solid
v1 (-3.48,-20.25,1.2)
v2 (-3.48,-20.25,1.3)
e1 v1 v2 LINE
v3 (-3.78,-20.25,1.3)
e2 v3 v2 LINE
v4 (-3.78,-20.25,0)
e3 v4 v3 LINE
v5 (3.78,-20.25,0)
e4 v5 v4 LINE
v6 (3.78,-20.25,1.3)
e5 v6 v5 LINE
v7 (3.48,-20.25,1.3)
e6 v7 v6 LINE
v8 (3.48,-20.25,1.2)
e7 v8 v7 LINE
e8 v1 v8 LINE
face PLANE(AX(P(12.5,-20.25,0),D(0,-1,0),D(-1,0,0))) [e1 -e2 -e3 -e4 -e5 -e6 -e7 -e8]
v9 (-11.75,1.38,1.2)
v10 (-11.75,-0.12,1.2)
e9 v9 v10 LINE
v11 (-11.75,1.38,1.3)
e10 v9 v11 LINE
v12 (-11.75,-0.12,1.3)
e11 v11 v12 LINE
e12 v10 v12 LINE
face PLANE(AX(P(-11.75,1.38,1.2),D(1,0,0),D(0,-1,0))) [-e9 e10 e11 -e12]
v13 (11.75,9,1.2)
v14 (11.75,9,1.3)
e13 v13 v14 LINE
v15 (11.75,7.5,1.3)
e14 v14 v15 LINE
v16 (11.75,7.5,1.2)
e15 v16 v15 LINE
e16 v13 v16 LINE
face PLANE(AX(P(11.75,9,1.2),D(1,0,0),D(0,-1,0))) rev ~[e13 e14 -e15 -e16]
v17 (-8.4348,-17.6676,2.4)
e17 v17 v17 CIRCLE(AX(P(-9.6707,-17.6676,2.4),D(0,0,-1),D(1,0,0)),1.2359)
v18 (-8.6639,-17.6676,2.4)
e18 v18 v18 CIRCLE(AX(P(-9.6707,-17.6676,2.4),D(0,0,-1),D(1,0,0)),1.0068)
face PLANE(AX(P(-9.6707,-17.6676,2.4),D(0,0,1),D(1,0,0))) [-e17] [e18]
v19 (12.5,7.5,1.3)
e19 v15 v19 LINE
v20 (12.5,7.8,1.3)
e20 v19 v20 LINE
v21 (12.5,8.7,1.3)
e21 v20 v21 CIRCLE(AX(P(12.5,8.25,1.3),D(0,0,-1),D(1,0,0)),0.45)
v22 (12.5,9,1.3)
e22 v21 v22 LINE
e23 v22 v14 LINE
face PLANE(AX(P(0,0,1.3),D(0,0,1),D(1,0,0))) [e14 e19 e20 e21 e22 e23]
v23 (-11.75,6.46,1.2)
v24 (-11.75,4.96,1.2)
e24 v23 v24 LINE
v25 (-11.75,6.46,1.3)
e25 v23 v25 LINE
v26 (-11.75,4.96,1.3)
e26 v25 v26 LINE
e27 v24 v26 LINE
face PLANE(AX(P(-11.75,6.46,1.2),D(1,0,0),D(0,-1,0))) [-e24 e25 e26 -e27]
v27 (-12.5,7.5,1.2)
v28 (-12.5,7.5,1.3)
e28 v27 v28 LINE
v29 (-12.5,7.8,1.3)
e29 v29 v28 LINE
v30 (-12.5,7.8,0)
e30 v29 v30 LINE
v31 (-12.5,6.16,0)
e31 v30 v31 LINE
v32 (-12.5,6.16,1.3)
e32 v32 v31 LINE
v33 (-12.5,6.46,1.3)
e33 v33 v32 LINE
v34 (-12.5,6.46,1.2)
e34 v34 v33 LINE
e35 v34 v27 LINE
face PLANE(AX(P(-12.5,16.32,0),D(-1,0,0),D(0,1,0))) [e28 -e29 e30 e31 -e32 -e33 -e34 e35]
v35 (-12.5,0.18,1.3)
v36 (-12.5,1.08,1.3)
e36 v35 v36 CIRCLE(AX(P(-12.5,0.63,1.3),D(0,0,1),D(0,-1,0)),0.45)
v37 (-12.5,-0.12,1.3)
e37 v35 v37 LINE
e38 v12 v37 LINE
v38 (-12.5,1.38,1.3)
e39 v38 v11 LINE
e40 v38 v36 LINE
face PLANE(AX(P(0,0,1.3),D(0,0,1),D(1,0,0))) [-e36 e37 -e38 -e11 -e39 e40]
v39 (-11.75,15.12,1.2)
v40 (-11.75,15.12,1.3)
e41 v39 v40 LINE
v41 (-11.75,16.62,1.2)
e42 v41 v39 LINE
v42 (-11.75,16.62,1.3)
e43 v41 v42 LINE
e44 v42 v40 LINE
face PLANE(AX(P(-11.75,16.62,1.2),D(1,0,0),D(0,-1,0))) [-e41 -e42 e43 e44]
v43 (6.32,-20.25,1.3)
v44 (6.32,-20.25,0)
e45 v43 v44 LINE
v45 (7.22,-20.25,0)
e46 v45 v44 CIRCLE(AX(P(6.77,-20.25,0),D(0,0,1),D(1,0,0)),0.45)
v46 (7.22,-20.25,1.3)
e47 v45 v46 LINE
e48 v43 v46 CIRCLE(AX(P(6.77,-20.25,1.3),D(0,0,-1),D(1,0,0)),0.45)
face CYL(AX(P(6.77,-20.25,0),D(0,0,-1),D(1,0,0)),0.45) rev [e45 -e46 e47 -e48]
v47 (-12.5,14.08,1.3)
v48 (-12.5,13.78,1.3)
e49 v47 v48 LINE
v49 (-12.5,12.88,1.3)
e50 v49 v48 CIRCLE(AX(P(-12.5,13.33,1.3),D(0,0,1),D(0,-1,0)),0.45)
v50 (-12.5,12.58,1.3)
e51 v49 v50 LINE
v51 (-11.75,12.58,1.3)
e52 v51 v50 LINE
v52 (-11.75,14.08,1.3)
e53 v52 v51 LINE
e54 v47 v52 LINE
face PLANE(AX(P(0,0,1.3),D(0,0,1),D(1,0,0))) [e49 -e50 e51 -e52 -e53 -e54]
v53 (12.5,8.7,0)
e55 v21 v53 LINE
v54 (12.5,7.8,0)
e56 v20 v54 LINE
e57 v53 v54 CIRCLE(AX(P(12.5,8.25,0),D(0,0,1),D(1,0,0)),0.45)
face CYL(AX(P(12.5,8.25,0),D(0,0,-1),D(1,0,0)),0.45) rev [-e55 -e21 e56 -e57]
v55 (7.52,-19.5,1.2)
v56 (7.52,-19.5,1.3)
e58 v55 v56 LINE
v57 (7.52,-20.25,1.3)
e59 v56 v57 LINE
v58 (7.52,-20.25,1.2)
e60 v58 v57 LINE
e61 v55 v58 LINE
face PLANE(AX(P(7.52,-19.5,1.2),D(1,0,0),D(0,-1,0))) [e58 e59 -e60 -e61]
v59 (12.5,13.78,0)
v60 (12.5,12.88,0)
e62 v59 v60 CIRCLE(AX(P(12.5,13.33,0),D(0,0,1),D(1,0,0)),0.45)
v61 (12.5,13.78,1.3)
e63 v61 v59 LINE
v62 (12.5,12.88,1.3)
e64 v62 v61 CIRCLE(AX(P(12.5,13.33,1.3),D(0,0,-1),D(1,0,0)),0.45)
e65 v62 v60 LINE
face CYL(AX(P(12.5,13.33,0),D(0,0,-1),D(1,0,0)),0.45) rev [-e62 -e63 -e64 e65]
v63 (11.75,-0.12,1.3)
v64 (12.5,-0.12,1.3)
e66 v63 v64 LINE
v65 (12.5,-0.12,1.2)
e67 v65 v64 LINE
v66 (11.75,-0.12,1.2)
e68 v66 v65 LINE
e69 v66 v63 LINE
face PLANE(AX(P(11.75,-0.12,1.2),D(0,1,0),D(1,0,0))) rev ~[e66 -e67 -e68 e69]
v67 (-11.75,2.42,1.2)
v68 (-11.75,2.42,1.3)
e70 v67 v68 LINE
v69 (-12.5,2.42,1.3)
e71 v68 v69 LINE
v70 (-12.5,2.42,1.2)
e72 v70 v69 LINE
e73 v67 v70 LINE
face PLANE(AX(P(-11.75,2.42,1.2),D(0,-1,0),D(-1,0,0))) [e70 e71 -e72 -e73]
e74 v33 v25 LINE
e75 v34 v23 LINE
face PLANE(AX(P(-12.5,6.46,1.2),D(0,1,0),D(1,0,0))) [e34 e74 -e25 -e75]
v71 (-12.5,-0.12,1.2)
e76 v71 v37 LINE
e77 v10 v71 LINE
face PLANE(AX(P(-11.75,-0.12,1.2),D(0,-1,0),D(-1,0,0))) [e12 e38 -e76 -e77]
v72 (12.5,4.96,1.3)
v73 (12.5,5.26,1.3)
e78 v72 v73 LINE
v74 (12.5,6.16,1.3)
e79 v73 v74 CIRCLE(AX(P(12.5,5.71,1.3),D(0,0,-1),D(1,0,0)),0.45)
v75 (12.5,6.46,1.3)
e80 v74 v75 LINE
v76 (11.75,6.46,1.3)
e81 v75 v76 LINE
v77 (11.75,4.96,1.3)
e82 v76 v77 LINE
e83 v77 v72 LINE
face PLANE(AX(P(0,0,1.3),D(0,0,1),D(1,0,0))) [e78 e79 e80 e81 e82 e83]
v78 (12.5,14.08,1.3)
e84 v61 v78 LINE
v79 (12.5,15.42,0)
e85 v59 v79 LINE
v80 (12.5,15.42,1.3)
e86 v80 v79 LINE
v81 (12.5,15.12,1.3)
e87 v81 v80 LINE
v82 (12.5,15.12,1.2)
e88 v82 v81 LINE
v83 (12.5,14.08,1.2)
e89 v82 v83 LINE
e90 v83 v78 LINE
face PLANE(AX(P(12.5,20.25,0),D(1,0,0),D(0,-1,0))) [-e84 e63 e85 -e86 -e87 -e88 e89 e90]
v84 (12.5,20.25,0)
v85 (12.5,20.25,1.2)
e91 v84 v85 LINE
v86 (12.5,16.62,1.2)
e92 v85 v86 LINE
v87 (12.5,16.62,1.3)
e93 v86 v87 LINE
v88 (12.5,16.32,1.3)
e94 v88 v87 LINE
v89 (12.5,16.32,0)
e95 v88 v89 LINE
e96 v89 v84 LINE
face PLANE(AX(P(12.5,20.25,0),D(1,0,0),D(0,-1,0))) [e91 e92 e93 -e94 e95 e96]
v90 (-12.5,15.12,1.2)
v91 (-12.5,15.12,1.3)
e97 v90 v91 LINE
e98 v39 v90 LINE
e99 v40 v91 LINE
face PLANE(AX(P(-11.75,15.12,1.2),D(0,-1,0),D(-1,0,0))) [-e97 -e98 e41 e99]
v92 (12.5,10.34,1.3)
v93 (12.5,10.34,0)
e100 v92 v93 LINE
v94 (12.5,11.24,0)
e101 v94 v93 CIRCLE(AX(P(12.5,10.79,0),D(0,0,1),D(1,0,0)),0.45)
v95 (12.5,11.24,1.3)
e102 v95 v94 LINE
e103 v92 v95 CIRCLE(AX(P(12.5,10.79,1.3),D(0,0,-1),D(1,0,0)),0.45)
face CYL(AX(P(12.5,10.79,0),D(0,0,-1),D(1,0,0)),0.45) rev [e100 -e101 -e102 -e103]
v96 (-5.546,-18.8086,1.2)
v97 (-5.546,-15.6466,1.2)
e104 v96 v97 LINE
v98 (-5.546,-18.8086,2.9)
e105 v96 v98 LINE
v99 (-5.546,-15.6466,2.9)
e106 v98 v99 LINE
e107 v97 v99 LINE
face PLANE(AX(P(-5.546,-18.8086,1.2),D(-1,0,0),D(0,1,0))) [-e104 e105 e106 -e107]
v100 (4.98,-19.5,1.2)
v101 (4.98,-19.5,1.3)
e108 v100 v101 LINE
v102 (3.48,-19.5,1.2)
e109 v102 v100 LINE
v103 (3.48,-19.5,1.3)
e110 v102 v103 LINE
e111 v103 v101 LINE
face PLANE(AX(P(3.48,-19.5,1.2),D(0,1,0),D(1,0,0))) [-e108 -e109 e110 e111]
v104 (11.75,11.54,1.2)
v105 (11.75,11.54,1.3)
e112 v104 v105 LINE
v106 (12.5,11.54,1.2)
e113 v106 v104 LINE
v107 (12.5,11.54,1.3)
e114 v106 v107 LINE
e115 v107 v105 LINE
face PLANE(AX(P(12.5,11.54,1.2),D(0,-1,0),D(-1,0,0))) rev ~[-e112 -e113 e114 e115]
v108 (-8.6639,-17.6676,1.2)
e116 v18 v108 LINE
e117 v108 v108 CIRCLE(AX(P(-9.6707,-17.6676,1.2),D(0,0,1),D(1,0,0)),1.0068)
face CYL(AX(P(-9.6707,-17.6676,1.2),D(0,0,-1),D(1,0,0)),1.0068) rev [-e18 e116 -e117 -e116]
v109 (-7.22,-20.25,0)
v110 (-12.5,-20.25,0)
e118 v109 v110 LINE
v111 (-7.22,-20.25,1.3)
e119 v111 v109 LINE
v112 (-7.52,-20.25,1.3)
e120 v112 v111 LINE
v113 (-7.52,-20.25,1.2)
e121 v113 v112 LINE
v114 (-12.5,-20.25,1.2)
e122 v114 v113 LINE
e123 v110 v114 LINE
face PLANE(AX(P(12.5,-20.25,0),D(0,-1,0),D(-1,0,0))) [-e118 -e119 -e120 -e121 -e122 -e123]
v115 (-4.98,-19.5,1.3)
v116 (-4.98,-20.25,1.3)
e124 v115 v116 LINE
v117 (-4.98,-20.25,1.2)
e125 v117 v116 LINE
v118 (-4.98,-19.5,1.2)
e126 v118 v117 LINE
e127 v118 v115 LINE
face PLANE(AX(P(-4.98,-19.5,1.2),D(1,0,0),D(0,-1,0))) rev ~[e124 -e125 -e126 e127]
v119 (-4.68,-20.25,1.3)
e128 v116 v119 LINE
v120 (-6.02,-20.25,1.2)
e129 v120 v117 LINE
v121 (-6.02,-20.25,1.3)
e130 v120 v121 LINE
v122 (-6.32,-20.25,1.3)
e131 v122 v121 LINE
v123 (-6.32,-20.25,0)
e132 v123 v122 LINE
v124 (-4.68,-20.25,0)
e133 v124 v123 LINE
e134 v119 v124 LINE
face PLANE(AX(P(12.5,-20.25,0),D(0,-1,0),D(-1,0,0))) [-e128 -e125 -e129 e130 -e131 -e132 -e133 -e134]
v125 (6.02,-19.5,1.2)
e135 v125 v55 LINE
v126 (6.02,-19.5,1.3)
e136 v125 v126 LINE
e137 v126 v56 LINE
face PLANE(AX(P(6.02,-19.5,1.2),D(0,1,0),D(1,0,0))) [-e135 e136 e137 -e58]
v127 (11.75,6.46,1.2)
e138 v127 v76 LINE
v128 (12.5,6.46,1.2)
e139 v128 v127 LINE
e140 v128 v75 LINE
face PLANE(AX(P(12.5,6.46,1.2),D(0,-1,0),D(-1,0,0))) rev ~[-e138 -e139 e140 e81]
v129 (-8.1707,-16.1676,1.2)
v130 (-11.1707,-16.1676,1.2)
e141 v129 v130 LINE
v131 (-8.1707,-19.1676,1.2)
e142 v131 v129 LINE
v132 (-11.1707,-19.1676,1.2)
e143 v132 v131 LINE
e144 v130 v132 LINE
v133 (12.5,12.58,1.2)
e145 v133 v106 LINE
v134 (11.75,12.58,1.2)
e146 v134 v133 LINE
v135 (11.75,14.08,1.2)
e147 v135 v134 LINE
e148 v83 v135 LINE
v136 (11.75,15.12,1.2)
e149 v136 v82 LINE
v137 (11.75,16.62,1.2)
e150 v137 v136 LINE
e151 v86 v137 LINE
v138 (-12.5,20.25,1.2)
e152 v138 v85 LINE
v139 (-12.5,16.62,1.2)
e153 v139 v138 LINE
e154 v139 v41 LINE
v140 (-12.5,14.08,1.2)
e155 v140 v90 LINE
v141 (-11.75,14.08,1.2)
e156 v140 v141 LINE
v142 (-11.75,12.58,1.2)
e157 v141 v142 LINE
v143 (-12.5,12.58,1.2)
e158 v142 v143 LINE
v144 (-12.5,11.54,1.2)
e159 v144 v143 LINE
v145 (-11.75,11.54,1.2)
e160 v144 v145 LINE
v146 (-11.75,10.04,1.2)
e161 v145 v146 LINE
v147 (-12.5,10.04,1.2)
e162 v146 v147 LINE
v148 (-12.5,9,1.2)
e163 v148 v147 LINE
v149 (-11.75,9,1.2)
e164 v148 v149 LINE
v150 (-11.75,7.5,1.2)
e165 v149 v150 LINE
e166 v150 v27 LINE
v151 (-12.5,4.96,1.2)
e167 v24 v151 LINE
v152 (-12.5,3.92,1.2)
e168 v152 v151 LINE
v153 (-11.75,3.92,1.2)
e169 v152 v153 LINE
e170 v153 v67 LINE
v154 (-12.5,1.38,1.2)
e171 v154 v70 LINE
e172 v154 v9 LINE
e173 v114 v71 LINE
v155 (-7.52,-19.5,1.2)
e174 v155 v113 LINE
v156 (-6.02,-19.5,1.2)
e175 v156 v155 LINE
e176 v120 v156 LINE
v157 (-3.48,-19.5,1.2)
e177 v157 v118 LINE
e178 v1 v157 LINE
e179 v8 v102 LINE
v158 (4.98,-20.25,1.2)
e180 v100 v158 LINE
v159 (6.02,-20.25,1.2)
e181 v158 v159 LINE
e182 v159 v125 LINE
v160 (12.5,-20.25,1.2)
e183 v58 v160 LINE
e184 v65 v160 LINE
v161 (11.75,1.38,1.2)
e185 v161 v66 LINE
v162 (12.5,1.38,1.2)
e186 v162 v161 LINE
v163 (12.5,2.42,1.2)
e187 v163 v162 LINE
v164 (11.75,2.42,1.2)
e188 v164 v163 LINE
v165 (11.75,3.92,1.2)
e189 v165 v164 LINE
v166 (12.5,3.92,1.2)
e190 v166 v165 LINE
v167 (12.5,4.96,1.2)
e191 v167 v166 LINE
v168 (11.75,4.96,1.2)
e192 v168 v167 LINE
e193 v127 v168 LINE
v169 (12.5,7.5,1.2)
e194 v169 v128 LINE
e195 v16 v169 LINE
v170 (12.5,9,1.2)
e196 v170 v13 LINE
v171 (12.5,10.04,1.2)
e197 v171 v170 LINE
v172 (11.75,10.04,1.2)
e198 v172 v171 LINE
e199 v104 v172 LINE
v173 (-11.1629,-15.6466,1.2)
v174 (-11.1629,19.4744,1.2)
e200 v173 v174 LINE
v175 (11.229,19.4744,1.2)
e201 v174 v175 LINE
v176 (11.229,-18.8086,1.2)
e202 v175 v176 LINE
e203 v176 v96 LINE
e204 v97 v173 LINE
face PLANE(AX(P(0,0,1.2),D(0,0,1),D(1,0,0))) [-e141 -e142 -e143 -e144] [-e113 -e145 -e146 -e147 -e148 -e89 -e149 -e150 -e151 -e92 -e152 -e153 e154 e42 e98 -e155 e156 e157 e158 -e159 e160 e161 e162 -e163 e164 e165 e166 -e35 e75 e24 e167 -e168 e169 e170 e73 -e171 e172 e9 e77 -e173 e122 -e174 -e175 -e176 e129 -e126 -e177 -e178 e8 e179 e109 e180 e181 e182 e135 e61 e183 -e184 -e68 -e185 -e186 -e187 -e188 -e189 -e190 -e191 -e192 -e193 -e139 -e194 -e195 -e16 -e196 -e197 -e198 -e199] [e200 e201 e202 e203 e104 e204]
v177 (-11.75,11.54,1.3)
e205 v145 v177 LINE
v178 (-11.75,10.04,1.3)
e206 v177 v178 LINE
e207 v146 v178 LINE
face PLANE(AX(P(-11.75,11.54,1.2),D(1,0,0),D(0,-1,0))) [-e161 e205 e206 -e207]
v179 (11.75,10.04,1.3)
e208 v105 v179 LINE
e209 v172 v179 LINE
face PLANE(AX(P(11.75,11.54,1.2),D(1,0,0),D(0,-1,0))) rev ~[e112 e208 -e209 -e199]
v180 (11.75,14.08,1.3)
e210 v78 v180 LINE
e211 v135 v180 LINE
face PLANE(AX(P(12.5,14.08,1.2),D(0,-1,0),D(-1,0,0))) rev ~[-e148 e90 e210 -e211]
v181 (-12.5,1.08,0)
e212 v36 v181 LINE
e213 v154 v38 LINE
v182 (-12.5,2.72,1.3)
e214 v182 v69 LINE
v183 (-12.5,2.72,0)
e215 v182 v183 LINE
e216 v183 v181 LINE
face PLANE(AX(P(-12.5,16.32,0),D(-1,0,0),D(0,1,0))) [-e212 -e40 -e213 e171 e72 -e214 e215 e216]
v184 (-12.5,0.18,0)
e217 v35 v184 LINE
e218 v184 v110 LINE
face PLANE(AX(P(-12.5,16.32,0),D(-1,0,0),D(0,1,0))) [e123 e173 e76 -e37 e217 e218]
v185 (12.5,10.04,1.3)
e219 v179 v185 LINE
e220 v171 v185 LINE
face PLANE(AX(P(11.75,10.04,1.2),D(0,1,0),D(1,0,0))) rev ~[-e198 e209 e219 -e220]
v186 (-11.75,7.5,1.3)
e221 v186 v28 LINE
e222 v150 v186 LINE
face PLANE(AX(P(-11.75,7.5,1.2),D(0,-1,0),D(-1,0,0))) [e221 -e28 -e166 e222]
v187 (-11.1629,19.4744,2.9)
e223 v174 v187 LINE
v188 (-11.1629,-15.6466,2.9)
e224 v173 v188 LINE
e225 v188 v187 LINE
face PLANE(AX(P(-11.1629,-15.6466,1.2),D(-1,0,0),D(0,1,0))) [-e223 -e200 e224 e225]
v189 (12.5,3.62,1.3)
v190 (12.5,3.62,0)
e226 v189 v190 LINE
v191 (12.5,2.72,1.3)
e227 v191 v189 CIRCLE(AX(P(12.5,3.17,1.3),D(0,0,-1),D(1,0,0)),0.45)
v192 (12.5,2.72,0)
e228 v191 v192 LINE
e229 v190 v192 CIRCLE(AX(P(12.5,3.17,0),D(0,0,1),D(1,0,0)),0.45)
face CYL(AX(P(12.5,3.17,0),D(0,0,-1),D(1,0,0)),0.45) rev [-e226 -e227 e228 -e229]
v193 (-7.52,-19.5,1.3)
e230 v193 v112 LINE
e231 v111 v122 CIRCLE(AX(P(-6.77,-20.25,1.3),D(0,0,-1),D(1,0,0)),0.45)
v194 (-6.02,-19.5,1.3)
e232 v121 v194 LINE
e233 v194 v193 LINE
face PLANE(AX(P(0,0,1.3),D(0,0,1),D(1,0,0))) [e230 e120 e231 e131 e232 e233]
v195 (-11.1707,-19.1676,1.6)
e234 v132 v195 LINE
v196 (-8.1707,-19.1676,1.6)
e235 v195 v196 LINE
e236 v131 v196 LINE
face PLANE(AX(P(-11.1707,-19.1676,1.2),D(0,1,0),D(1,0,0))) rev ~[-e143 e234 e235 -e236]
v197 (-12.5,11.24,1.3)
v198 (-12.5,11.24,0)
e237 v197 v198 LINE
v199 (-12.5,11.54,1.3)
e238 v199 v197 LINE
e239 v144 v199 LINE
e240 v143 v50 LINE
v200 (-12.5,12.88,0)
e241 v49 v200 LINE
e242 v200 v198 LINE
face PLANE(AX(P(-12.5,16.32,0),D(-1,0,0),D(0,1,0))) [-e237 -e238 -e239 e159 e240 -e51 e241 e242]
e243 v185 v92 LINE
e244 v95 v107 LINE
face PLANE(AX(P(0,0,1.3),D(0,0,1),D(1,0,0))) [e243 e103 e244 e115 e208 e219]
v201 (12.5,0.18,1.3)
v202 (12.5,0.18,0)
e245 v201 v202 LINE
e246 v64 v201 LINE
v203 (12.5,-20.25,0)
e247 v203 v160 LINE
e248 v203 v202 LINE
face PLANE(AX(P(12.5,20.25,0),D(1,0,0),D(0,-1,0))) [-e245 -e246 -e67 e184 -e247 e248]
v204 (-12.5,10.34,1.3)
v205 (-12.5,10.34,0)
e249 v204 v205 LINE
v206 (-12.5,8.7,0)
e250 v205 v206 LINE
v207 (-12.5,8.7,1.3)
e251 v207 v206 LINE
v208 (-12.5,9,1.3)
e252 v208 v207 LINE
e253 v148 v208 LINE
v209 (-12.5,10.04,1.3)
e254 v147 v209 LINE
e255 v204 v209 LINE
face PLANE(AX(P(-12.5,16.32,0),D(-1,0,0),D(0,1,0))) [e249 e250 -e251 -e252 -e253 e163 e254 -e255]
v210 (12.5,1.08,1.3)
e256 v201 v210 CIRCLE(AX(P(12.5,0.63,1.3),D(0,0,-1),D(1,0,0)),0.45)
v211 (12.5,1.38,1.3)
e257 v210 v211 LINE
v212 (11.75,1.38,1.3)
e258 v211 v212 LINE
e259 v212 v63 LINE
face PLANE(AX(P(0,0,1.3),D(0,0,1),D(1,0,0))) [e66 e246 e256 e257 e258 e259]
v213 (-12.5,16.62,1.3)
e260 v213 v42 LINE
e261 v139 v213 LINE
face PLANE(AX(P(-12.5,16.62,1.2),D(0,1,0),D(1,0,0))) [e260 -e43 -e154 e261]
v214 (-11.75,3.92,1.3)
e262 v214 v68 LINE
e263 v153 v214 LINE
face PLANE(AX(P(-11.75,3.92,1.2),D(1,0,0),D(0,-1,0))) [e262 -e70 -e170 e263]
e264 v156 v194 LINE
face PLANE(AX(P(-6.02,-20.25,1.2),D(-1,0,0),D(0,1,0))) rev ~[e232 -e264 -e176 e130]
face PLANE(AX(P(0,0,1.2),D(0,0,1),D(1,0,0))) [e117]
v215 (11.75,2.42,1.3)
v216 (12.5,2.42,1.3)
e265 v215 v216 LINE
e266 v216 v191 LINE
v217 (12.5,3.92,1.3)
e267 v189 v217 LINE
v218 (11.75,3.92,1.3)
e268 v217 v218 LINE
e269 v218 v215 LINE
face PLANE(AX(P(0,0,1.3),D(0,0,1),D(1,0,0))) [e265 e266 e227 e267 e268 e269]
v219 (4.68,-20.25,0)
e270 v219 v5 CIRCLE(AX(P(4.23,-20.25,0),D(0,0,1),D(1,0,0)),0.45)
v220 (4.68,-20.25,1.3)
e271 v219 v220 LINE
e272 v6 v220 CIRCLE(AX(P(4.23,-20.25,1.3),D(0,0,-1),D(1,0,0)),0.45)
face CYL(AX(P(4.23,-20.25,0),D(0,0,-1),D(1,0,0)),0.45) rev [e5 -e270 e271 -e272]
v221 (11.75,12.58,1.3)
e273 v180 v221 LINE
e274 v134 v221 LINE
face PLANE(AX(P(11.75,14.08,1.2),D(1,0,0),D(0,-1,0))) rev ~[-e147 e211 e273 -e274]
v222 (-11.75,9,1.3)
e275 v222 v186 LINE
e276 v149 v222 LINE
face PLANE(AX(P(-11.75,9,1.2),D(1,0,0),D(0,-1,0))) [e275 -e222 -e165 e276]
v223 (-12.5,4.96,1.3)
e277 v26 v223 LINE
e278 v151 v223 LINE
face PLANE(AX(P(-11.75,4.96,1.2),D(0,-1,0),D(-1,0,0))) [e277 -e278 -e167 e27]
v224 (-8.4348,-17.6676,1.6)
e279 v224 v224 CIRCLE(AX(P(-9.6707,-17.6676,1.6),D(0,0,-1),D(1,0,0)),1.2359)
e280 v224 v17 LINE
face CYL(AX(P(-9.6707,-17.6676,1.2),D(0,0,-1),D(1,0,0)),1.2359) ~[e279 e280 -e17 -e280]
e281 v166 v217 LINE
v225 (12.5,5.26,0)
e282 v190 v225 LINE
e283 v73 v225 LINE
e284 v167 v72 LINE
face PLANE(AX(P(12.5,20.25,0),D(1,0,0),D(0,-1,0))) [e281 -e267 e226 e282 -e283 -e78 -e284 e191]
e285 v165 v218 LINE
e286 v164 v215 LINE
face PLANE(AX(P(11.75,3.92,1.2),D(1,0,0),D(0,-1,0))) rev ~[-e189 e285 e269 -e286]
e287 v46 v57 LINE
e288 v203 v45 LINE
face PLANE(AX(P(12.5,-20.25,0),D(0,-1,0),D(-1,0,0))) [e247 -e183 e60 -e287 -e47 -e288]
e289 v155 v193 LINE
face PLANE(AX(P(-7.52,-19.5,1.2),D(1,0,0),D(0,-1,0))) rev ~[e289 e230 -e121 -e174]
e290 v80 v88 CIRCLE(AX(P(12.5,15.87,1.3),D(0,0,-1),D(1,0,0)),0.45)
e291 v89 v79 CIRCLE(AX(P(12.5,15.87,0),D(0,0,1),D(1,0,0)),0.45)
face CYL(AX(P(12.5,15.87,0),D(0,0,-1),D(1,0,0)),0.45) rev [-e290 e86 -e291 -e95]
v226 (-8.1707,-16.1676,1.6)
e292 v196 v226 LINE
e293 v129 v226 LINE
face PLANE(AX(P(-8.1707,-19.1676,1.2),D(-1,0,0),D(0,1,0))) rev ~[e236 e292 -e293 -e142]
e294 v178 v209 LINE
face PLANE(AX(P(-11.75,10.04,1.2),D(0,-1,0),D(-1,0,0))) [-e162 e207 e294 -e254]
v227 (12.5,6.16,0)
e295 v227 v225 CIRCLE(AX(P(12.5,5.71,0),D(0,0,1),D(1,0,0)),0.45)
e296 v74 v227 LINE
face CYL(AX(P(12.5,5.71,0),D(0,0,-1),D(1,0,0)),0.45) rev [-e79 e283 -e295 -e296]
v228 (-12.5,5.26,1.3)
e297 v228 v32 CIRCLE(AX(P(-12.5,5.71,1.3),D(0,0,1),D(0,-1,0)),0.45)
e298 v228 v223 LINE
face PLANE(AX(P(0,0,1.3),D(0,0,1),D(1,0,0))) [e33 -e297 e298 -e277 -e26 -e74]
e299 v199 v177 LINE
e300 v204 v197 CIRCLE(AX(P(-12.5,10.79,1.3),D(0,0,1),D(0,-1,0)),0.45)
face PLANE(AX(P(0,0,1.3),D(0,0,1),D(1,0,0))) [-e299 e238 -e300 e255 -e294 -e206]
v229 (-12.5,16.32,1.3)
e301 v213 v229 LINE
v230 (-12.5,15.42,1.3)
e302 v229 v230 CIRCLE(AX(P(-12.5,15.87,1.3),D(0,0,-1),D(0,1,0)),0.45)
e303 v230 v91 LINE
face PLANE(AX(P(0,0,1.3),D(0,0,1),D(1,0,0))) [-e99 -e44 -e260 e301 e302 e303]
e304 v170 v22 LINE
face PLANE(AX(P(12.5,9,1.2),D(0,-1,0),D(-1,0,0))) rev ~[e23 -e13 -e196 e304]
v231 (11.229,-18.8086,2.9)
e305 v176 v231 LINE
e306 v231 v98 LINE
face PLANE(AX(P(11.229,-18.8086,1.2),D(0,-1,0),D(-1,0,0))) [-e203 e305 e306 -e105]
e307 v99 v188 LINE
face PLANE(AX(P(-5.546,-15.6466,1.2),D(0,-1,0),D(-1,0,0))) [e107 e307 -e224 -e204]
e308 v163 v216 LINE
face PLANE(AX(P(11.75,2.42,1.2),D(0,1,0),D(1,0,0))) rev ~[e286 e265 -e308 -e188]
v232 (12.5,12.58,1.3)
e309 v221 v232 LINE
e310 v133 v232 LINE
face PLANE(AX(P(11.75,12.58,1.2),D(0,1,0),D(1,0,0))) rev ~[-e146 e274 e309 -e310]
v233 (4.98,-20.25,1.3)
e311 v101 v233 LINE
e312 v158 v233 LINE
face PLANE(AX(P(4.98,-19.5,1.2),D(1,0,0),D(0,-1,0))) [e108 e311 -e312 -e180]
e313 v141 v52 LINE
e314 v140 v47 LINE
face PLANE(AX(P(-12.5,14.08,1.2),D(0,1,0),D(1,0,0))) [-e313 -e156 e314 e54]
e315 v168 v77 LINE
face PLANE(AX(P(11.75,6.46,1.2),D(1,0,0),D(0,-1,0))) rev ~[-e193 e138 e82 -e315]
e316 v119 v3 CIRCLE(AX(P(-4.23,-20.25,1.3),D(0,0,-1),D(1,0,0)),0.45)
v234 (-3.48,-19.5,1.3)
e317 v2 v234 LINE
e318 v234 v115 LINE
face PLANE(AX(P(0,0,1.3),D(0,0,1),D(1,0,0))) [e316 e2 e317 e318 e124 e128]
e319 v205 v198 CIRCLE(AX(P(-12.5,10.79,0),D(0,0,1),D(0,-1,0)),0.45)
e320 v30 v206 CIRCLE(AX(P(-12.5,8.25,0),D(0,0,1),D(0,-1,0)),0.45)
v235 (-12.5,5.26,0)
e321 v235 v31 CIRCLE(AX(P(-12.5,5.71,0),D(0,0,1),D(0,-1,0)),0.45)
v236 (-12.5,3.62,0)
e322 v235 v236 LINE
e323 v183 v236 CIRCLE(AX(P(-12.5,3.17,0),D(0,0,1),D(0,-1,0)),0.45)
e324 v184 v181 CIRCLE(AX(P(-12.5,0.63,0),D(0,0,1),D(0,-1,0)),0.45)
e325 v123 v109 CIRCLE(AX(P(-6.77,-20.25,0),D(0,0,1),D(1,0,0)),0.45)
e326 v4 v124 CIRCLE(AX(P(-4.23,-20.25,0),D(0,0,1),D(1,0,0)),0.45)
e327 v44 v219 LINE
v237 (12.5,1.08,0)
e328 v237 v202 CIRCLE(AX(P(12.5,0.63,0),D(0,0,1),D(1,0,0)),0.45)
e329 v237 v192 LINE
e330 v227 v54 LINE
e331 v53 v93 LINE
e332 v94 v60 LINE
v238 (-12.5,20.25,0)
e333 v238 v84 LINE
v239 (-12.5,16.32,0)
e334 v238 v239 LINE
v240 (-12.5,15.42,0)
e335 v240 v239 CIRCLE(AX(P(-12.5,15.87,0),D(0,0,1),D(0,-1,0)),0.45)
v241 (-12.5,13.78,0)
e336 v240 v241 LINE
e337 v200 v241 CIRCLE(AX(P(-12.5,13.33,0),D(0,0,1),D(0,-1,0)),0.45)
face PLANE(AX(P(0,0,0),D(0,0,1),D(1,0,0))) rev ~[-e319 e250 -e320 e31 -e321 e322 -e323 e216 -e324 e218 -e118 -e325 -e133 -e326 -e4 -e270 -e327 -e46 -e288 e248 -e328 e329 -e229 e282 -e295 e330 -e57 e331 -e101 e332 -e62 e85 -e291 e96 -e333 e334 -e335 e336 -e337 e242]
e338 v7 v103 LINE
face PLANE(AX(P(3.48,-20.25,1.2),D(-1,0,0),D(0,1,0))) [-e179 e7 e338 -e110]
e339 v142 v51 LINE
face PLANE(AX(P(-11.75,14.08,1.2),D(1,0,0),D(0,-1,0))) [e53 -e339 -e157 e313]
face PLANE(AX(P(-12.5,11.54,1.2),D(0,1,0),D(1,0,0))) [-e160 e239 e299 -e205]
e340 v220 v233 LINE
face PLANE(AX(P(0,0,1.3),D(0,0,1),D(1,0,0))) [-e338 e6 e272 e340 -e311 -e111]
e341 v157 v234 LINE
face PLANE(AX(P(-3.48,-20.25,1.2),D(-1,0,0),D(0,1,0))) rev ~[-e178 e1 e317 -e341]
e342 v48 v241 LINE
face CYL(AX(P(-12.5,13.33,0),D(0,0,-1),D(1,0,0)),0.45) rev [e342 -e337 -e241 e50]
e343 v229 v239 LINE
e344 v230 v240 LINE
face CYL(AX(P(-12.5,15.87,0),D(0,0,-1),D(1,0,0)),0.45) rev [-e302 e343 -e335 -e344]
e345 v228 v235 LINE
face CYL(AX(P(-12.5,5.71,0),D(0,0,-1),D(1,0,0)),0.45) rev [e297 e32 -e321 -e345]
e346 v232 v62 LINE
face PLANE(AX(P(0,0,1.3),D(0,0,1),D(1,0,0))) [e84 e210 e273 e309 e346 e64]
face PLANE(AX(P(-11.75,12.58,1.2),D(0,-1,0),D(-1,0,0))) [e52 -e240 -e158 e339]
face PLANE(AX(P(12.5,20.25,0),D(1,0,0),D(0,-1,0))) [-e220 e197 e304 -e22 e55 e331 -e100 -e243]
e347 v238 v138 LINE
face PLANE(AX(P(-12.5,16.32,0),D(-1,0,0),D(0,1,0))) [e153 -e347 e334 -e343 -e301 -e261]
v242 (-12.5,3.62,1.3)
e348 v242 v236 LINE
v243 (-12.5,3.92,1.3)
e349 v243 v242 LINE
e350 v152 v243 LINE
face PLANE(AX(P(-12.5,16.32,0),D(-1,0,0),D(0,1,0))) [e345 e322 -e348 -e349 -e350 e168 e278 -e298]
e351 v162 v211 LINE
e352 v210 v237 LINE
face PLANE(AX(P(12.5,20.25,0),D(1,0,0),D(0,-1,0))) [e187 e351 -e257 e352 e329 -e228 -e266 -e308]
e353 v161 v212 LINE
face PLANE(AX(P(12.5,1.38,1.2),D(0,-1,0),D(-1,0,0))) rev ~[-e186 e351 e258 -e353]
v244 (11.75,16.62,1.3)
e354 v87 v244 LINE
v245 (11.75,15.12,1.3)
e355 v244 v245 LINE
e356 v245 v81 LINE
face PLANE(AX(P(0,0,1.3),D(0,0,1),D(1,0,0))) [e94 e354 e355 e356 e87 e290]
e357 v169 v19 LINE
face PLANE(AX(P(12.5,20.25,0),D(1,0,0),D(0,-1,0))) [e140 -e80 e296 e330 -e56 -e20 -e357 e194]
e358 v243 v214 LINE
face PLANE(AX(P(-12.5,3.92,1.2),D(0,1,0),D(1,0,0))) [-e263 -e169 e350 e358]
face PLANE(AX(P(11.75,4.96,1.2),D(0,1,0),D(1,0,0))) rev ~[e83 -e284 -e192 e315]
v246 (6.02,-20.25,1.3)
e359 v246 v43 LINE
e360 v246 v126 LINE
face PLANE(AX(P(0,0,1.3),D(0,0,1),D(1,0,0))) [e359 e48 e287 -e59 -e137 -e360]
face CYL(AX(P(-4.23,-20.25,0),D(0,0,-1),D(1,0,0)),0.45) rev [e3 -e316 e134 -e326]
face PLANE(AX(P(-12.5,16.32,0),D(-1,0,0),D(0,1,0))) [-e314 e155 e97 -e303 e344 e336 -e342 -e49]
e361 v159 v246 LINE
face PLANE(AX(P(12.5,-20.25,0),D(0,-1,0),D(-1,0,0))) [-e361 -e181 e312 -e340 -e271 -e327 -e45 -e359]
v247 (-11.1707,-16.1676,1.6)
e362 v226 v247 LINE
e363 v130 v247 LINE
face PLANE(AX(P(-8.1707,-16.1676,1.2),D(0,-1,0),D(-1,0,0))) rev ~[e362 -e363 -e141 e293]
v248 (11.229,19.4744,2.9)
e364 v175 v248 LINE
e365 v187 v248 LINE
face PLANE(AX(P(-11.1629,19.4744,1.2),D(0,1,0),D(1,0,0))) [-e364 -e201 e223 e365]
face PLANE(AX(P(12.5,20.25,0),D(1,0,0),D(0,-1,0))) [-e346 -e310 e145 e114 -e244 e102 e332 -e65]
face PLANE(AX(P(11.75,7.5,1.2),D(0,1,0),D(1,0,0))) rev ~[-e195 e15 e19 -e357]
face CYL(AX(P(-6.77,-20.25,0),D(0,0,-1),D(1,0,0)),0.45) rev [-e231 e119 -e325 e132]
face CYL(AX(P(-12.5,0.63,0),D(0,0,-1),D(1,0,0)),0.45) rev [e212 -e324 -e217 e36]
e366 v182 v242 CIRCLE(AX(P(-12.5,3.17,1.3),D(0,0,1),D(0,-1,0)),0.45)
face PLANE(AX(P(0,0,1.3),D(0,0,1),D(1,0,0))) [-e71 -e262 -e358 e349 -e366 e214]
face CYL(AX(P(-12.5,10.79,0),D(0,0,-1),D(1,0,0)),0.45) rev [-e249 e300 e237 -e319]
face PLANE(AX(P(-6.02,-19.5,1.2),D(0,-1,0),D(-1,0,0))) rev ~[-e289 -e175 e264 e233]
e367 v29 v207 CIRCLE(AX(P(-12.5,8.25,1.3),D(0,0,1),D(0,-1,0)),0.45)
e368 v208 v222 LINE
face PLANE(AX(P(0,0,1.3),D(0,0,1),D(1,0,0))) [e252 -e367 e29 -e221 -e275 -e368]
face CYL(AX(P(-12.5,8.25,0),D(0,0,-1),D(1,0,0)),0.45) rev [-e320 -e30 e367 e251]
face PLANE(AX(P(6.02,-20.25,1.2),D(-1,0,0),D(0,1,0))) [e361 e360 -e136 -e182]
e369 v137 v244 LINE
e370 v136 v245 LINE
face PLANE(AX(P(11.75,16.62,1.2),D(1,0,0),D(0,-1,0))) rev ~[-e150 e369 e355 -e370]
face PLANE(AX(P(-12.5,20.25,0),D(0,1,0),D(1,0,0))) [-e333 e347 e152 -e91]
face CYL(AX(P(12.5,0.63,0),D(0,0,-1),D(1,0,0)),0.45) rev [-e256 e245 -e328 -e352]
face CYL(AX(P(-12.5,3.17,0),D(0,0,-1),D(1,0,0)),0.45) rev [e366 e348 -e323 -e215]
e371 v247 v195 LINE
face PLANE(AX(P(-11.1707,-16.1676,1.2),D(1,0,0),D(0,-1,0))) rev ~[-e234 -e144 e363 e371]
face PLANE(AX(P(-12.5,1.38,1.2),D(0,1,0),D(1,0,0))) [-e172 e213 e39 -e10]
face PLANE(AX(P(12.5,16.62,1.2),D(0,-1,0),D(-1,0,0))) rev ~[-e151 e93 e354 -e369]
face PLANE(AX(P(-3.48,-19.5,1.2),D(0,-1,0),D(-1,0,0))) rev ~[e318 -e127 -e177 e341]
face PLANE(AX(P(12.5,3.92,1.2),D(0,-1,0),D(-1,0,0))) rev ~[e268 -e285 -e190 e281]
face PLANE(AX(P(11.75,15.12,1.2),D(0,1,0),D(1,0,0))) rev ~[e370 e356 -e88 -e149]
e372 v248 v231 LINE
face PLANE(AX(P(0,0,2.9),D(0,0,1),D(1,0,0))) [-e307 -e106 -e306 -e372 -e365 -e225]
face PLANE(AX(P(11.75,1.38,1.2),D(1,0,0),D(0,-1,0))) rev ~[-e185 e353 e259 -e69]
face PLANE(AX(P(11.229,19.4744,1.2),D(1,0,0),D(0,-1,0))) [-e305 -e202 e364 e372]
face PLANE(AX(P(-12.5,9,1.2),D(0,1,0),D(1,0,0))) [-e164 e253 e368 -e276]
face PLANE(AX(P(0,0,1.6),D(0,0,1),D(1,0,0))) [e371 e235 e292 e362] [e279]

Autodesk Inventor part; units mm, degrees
ref_plane "YZ Plane" through (0, 0, 0) normal (1, 0, 0) x (0, 1, 0)
ref_plane "XZ Plane" through (0, 0, 0) normal (0, 1, 0) x (-1, 0, 0)
ref_plane "XY Plane" through (0, 0, 0) normal (0, 0, 1) x (1, 0, 0)
sketch "Эскиз1" plane through (0, 0, 0) normal (0, 0, 1) x (1, 0, 0)
  line L0 (-12.5, 20.25) -> (12.5, 20.25)
  line L1 (12.5, 20.25) -> (12.5, -20.25)
  line L2 (12.5, -20.25) -> (-12.5, -20.25)
  line L3 (-12.5, -20.25) -> (-12.5, 20.25)
  circle A0 centre (12.5, 15.87) radius 0.45
  circle A1 centre (12.5, 13.33) radius 0.45
  circle A2 centre (12.5, 10.79) radius 0.45
  circle A3 centre (12.5, 8.25) radius 0.45
  circle A4 centre (12.5, 5.71) radius 0.45
  circle A5 centre (12.5, 3.17) radius 0.45
  circle A6 centre (12.5, 0.63) radius 0.45
  line L4 (0, 0) -> (0, 16.5356)
  circle A7 centre (-12.5, 15.87) radius 0.45
  circle A8 centre (-12.5, 13.33) radius 0.45
  circle A9 centre (-12.5, 10.79) radius 0.45
  circle A10 centre (-12.5, 8.25) radius 0.45
  circle A11 centre (-12.5, 5.71) radius 0.45
  circle A12 centre (-12.5, 3.17) radius 0.45
  circle A13 centre (-12.5, 0.63) radius 0.45
  circle A14 centre (6.77, -20.25) radius 0.45
  circle A15 centre (4.23, -20.25) radius 0.45
  circle A16 centre (-6.77, -20.25) radius 0.45
  circle A17 centre (-4.23, -20.25) radius 0.45
  point P0 (0, 20.25)
  point P1 (12.5, 0)
  dimension "d0" = 25
  dimension "d1" = 40.5
  dimension "d2" = 0.9
  dimension "d3" = 4.38
  dimension "d6" = 2.54
  dimension "d11" = 0.9
  dimension "d12" = 5.73
  dimension "d15" = 2.54
extrude "Выдавливание1" add sketch "Эскиз1" along normal blind 1.2 contours L0 L1 A0 A1 A2 A3 A4 A5 A6 L2 A14 A15 A17 A16 L3 A13 A12 A11 A10 A9 A8 A7 | A7 L3 | L1 A0 | A8 L3 | L1 A1 | A9 L3 | L1 A2 | A10 L3 | L1 A3 | A11 L3 | L1 A4 | A12 L3 | L1 A5 | A13 L3 | L1 A6 | A16 L2 | L2 A14 | A17 L2 | L2 A15 picked at (-12.2843, 15.9746) picked at (12.3511, 15.8519) picked at (-12.3698, 13.18) picked at (12.3511, 13.3119) picked at (-12.4349, 10.9251) picked at (12.3511, 10.7719) picked at (-12.4015, 8.3889) picked at (12.3511, 8.2319) picked at (-12.2526, 5.8035) picked at (12.3511, 5.6919) picked at (-12.2526, 3.2635) picked at (12.3511, 3.1519) picked at (-12.2526, 0.7235) picked at (12.3511, 0.6119) picked at (-6.7519, -20.1011) picked at (6.7881, -20.1011) picked at (-4.2119, -20.1011) picked at (4.2481, -20.1011)
sketch "Эскиз4" plane through (0, 0, 1.2) normal (0, 0, 1) x (1, 0, 0)
  line L0 (-12.5, 20.25) -> (-12.5, -20.25) projected
  line L1 (-12.5, 16.62) -> (-11.75, 16.62)
  line L2 (-11.75, 16.62) -> (-11.75, 15.12)
  line L3 (-11.75, 15.12) -> (-12.5, 15.12)
  line L4 (-12.5, 15.12) -> (-12.5, 16.62)
  line L5 (12.5, 20.25) -> (-12.5, 20.25) projected
  line L6 (-12.5, 14.08) -> (-11.75, 14.08)
  line L7 (-11.75, 14.08) -> (-11.75, 12.58)
  line L8 (-11.75, 12.58) -> (-12.5, 12.58)
  line L9 (-12.5, 12.58) -> (-12.5, 14.08)
  line L10 (-12.5, 11.54) -> (-11.75, 11.54)
  line L11 (-11.75, 11.54) -> (-11.75, 10.04)
  line L12 (-11.75, 10.04) -> (-12.5, 10.04)
  line L13 (-12.5, 10.04) -> (-12.5, 11.54)
  line L14 (-12.5, 9) -> (-11.75, 9)
  line L15 (-11.75, 9) -> (-11.75, 7.5)
  line L16 (-11.75, 7.5) -> (-12.5, 7.5)
  line L17 (-12.5, 7.5) -> (-12.5, 9)
  line L18 (-12.5, 6.46) -> (-11.75, 6.46)
  line L19 (-11.75, 6.46) -> (-11.75, 4.96)
  line L20 (-11.75, 4.96) -> (-12.5, 4.96)
  line L21 (-12.5, 4.96) -> (-12.5, 6.46)
  line L22 (-12.5, 3.92) -> (-11.75, 3.92)
  line L23 (-11.75, 3.92) -> (-11.75, 2.42)
  line L24 (-11.75, 2.42) -> (-12.5, 2.42)
  line L25 (-12.5, 2.42) -> (-12.5, 3.92)
  line L26 (-12.5, 1.38) -> (-11.75, 1.38)
  line L27 (-11.75, 1.38) -> (-11.75, -0.12)
  line L28 (-11.75, -0.12) -> (-12.5, -0.12)
  line L29 (-12.5, -0.12) -> (-12.5, 1.38)
  line L30 (0, 0) -> (0, 23.8656)
  line L31 (12.5, 16.62) -> (11.75, 16.62)
  line L32 (11.75, 16.62) -> (11.75, 15.12)
  line L33 (11.75, 15.12) -> (12.5, 15.12)
  line L34 (12.5, 15.12) -> (12.5, 16.62)
  line L35 (12.5, 14.08) -> (11.75, 14.08)
  line L36 (11.75, 14.08) -> (11.75, 12.58)
  line L37 (11.75, 12.58) -> (12.5, 12.58)
  line L38 (12.5, 12.58) -> (12.5, 14.08)
  line L39 (12.5, 11.54) -> (11.75, 11.54)
  line L40 (11.75, 11.54) -> (11.75, 10.04)
  line L41 (11.75, 10.04) -> (12.5, 10.04)
  line L42 (12.5, 10.04) -> (12.5, 11.54)
  line L43 (12.5, 9) -> (11.75, 9)
  line L44 (11.75, 9) -> (11.75, 7.5)
  line L45 (11.75, 7.5) -> (12.5, 7.5)
  line L46 (12.5, 7.5) -> (12.5, 9)
  line L47 (12.5, 6.46) -> (11.75, 6.46)
  line L48 (11.75, 6.46) -> (11.75, 4.96)
  line L49 (11.75, 4.96) -> (12.5, 4.96)
  line L50 (12.5, 4.96) -> (12.5, 6.46)
  line L51 (12.5, 3.92) -> (11.75, 3.92)
  line L52 (11.75, 3.92) -> (11.75, 2.42)
  line L53 (11.75, 2.42) -> (12.5, 2.42)
  line L54 (12.5, 2.42) -> (12.5, 3.92)
  line L55 (12.5, 1.38) -> (11.75, 1.38)
  line L56 (11.75, 1.38) -> (11.75, -0.12)
  line L57 (11.75, -0.12) -> (12.5, -0.12)
  line L58 (12.5, -0.12) -> (12.5, 1.38)
  line L59 (-12.5, -20.25) -> (12.5, -20.25) projected
  line L60 (-7.52, -20.25) -> (-6.02, -20.25)
  line L61 (-6.02, -20.25) -> (-6.02, -19.5)
  line L62 (-6.02, -19.5) -> (-7.52, -19.5)
  line L63 (-7.52, -19.5) -> (-7.52, -20.25)
  line L64 (-3.48, -19.5) -> (-4.98, -19.5)
  line L65 (-4.98, -19.5) -> (-4.98, -20.25)
  line L66 (-3.48, -20.25) -> (-3.48, -19.5)
  line L67 (-4.98, -20.25) -> (-3.48, -20.25)
  line L68 (7.52, -20.25) -> (6.02, -20.25)
  line L69 (6.02, -20.25) -> (6.02, -19.5)
  line L70 (6.02, -19.5) -> (7.52, -19.5)
  line L71 (7.52, -19.5) -> (7.52, -20.25)
  line L72 (3.48, -19.5) -> (4.98, -19.5)
  line L73 (4.98, -19.5) -> (4.98, -20.25)
  line L74 (3.48, -20.25) -> (3.48, -19.5)
  line L75 (4.98, -20.25) -> (3.48, -20.25)
  point P0 (-11.75, 15.87)
  point P1 (-11.75, 13.33)
  point P2 (-11.75, 10.79)
  point P3 (-11.75, 8.25)
  point P4 (-11.75, 5.71)
  point P5 (-11.75, 3.17)
  point P6 (-11.75, 0.63)
  point P7 (11.75, 15.87)
  point P8 (11.75, 13.33)
  point P9 (11.75, 10.79)
  point P10 (11.75, 8.25)
  point P11 (11.75, 5.71)
  point P12 (11.75, 3.17)
  point P13 (11.75, 0.63)
  point P14 (-6.77, -19.5)
  point P15 (-4.23, -19.5)
  point P16 (6.77, -19.5)
  point P17 (4.23, -19.5)
  dimension "d77" = 0.75
  dimension "d78" = 1.5
  dimension "d79" = 4.38
  dimension "d82" = 2.54
  dimension "d87" = 1.5
  dimension "d88" = 0.75
  dimension "d89" = 5.73
  dimension "d92" = 2.54
extrude "Выдавливание4" add sketch "Эскиз4" along normal blind 0.1
sketch "Эскиз2" plane through (0, 0, 0) normal (0, 0, 1) x (1, 0, 0)
  line L0 (-12.5, 20.25) -> (12.5, 20.25)
  line L1 (12.5, 20.25) -> (12.5, -20.25)
  line L2 (12.5, -20.25) -> (-12.5, -20.25)
  line L3 (-12.5, -20.25) -> (-12.5, 20.25)
  circle A0 centre (12.5, 15.87) radius 0.45
  circle A1 centre (12.5, 13.33) radius 0.45
  circle A2 centre (12.5, 10.79) radius 0.45
  circle A3 centre (12.5, 8.25) radius 0.45
  circle A4 centre (12.5, 5.71) radius 0.45
  circle A5 centre (12.5, 3.17) radius 0.45
  circle A6 centre (12.5, 0.63) radius 0.45
  line L4 (0, 0) -> (0, 16.5356)
  circle A7 centre (-12.5, 15.87) radius 0.45
  circle A8 centre (-12.5, 13.33) radius 0.45
  circle A9 centre (-12.5, 10.79) radius 0.45
  circle A10 centre (-12.5, 8.25) radius 0.45
  circle A11 centre (-12.5, 5.71) radius 0.45
  circle A12 centre (-12.5, 3.17) radius 0.45
  circle A13 centre (-12.5, 0.63) radius 0.45
  circle A14 centre (6.77, -20.25) radius 0.45
  circle A15 centre (4.23, -20.25) radius 0.45
  circle A16 centre (-4.23, -20.25) radius 0.45
  circle A17 centre (-6.77, -20.25) radius 0.45
  point P0 (0, 20.25)
  point P1 (12.5, 0)
  dimension "d30" = 25
  dimension "d31" = 40.5
  dimension "d32" = 0.9
  dimension "d33" = 4.38
  dimension "d34" = 2.54
  dimension "d35" = 0.9
  dimension "d36" = 5.73
  dimension "d37" = 2.54
extrude "Выдавливание5" cut sketch "Эскиз2" along normal blind 2 contours A7 L3 | L3 A7 | A0 L1 | L1 A0 | A8 L3 | L3 A8 | A1 L1 | L1 A1 | A9 L3 | L3 A9 | A2 L1 | L1 A2 | A10 L3 | L3 A10 | A3 L1 | L1 A3 | A11 L3 | L3 A11 | A4 L1 | L1 A4 | A12 L3 | L3 A12 | A5 L1 | L1 A5 | A13 L3 | L3 A13 | A6 L1 | L1 A6 | A17 L2 | L2 A17 | A14 L2 | L2 A14 | A16 L2 | L2 A16 | A15 L2 | L2 A15
sketch "Эскиз5" plane through (0, 0, 1.2) normal (0, 0, 1) x (1, 0, 0)
  line L0 (12.4911, 20.0783) -> (12.4911, -20.2296) construction
  line L1 (12.4911, -20.2296) -> (-12.3051, -20.2296) construction
  line L2 (-12.3051, -20.2296) -> (-12.3051, 20.0783) construction
  line L3 (-12.3051, 20.0783) -> (12.4911, 20.0783) construction
  line L4 (-11.1629, 19.4744) -> (11.229, 19.4744)
  line L5 (11.229, 19.4744) -> (11.229, -18.8086)
  line L6 (11.229, -18.8086) -> (-5.546, -18.8086)
  line L7 (-5.546, -18.8086) -> (-5.546, -15.6466)
  line L8 (-5.546, -15.6466) -> (-11.1629, -15.6466)
  line L9 (-11.1629, -15.6466) -> (-11.1629, 19.4744)
  circle A0 centre (-9.6707, -17.6676) radius 1.2359
  circle A1 centre (-9.6707, -17.6676) radius 1.0068
  point P0 (0, 0)
extrude "Выдавливание6" add sketch "Эскиз5" along normal blind 1.7
sketch "Эскиз6" plane through (0, 0, 1.2) normal (0, 0, 1) x (1, 0, 0)
  line L0 (-8.1707, -16.1676) -> (-11.1707, -16.1676)
  line L1 (-11.1707, -16.1676) -> (-11.1707, -19.1676)
  line L2 (-11.1707, -19.1676) -> (-8.1707, -19.1676)
  line L3 (-8.1707, -19.1676) -> (-8.1707, -16.1676)
  circle A0 centre (-9.6707, -17.6676) radius 1.0068 projected
  point P0 (0, 0)
  point P1 (-8.1707, -17.6676)
  point P2 (-9.6707, -19.1676)
  dimension "d158" = 0
  dimension "d159" = 3
  dimension "d160" = 0
  dimension "d161" = 3
extrude "Выдавливание7" add sketch "Эскиз6" along normal blind 0.4
sketch "Эскиз7" plane through (-9.6707, -17.6676, 2.9) normal (0, 0, 1) x (1, 0, 0)
  line L0 (-1.6698, -1.5644) -> (1.6741, -1.5644)
  line L1 (1.6741, -1.5644) -> (1.6741, 1.6132)
  line L2 (1.6741, 1.6132) -> (-1.6698, 1.6132)
  line L3 (-1.6698, 1.6132) -> (-1.6698, -1.5644)
  point P0 (9.6707, 17.6676)
extrude "Выдавливание8" cut sketch "Эскиз7" against normal blind 0.5
properties part number "E22-400T30XX"
